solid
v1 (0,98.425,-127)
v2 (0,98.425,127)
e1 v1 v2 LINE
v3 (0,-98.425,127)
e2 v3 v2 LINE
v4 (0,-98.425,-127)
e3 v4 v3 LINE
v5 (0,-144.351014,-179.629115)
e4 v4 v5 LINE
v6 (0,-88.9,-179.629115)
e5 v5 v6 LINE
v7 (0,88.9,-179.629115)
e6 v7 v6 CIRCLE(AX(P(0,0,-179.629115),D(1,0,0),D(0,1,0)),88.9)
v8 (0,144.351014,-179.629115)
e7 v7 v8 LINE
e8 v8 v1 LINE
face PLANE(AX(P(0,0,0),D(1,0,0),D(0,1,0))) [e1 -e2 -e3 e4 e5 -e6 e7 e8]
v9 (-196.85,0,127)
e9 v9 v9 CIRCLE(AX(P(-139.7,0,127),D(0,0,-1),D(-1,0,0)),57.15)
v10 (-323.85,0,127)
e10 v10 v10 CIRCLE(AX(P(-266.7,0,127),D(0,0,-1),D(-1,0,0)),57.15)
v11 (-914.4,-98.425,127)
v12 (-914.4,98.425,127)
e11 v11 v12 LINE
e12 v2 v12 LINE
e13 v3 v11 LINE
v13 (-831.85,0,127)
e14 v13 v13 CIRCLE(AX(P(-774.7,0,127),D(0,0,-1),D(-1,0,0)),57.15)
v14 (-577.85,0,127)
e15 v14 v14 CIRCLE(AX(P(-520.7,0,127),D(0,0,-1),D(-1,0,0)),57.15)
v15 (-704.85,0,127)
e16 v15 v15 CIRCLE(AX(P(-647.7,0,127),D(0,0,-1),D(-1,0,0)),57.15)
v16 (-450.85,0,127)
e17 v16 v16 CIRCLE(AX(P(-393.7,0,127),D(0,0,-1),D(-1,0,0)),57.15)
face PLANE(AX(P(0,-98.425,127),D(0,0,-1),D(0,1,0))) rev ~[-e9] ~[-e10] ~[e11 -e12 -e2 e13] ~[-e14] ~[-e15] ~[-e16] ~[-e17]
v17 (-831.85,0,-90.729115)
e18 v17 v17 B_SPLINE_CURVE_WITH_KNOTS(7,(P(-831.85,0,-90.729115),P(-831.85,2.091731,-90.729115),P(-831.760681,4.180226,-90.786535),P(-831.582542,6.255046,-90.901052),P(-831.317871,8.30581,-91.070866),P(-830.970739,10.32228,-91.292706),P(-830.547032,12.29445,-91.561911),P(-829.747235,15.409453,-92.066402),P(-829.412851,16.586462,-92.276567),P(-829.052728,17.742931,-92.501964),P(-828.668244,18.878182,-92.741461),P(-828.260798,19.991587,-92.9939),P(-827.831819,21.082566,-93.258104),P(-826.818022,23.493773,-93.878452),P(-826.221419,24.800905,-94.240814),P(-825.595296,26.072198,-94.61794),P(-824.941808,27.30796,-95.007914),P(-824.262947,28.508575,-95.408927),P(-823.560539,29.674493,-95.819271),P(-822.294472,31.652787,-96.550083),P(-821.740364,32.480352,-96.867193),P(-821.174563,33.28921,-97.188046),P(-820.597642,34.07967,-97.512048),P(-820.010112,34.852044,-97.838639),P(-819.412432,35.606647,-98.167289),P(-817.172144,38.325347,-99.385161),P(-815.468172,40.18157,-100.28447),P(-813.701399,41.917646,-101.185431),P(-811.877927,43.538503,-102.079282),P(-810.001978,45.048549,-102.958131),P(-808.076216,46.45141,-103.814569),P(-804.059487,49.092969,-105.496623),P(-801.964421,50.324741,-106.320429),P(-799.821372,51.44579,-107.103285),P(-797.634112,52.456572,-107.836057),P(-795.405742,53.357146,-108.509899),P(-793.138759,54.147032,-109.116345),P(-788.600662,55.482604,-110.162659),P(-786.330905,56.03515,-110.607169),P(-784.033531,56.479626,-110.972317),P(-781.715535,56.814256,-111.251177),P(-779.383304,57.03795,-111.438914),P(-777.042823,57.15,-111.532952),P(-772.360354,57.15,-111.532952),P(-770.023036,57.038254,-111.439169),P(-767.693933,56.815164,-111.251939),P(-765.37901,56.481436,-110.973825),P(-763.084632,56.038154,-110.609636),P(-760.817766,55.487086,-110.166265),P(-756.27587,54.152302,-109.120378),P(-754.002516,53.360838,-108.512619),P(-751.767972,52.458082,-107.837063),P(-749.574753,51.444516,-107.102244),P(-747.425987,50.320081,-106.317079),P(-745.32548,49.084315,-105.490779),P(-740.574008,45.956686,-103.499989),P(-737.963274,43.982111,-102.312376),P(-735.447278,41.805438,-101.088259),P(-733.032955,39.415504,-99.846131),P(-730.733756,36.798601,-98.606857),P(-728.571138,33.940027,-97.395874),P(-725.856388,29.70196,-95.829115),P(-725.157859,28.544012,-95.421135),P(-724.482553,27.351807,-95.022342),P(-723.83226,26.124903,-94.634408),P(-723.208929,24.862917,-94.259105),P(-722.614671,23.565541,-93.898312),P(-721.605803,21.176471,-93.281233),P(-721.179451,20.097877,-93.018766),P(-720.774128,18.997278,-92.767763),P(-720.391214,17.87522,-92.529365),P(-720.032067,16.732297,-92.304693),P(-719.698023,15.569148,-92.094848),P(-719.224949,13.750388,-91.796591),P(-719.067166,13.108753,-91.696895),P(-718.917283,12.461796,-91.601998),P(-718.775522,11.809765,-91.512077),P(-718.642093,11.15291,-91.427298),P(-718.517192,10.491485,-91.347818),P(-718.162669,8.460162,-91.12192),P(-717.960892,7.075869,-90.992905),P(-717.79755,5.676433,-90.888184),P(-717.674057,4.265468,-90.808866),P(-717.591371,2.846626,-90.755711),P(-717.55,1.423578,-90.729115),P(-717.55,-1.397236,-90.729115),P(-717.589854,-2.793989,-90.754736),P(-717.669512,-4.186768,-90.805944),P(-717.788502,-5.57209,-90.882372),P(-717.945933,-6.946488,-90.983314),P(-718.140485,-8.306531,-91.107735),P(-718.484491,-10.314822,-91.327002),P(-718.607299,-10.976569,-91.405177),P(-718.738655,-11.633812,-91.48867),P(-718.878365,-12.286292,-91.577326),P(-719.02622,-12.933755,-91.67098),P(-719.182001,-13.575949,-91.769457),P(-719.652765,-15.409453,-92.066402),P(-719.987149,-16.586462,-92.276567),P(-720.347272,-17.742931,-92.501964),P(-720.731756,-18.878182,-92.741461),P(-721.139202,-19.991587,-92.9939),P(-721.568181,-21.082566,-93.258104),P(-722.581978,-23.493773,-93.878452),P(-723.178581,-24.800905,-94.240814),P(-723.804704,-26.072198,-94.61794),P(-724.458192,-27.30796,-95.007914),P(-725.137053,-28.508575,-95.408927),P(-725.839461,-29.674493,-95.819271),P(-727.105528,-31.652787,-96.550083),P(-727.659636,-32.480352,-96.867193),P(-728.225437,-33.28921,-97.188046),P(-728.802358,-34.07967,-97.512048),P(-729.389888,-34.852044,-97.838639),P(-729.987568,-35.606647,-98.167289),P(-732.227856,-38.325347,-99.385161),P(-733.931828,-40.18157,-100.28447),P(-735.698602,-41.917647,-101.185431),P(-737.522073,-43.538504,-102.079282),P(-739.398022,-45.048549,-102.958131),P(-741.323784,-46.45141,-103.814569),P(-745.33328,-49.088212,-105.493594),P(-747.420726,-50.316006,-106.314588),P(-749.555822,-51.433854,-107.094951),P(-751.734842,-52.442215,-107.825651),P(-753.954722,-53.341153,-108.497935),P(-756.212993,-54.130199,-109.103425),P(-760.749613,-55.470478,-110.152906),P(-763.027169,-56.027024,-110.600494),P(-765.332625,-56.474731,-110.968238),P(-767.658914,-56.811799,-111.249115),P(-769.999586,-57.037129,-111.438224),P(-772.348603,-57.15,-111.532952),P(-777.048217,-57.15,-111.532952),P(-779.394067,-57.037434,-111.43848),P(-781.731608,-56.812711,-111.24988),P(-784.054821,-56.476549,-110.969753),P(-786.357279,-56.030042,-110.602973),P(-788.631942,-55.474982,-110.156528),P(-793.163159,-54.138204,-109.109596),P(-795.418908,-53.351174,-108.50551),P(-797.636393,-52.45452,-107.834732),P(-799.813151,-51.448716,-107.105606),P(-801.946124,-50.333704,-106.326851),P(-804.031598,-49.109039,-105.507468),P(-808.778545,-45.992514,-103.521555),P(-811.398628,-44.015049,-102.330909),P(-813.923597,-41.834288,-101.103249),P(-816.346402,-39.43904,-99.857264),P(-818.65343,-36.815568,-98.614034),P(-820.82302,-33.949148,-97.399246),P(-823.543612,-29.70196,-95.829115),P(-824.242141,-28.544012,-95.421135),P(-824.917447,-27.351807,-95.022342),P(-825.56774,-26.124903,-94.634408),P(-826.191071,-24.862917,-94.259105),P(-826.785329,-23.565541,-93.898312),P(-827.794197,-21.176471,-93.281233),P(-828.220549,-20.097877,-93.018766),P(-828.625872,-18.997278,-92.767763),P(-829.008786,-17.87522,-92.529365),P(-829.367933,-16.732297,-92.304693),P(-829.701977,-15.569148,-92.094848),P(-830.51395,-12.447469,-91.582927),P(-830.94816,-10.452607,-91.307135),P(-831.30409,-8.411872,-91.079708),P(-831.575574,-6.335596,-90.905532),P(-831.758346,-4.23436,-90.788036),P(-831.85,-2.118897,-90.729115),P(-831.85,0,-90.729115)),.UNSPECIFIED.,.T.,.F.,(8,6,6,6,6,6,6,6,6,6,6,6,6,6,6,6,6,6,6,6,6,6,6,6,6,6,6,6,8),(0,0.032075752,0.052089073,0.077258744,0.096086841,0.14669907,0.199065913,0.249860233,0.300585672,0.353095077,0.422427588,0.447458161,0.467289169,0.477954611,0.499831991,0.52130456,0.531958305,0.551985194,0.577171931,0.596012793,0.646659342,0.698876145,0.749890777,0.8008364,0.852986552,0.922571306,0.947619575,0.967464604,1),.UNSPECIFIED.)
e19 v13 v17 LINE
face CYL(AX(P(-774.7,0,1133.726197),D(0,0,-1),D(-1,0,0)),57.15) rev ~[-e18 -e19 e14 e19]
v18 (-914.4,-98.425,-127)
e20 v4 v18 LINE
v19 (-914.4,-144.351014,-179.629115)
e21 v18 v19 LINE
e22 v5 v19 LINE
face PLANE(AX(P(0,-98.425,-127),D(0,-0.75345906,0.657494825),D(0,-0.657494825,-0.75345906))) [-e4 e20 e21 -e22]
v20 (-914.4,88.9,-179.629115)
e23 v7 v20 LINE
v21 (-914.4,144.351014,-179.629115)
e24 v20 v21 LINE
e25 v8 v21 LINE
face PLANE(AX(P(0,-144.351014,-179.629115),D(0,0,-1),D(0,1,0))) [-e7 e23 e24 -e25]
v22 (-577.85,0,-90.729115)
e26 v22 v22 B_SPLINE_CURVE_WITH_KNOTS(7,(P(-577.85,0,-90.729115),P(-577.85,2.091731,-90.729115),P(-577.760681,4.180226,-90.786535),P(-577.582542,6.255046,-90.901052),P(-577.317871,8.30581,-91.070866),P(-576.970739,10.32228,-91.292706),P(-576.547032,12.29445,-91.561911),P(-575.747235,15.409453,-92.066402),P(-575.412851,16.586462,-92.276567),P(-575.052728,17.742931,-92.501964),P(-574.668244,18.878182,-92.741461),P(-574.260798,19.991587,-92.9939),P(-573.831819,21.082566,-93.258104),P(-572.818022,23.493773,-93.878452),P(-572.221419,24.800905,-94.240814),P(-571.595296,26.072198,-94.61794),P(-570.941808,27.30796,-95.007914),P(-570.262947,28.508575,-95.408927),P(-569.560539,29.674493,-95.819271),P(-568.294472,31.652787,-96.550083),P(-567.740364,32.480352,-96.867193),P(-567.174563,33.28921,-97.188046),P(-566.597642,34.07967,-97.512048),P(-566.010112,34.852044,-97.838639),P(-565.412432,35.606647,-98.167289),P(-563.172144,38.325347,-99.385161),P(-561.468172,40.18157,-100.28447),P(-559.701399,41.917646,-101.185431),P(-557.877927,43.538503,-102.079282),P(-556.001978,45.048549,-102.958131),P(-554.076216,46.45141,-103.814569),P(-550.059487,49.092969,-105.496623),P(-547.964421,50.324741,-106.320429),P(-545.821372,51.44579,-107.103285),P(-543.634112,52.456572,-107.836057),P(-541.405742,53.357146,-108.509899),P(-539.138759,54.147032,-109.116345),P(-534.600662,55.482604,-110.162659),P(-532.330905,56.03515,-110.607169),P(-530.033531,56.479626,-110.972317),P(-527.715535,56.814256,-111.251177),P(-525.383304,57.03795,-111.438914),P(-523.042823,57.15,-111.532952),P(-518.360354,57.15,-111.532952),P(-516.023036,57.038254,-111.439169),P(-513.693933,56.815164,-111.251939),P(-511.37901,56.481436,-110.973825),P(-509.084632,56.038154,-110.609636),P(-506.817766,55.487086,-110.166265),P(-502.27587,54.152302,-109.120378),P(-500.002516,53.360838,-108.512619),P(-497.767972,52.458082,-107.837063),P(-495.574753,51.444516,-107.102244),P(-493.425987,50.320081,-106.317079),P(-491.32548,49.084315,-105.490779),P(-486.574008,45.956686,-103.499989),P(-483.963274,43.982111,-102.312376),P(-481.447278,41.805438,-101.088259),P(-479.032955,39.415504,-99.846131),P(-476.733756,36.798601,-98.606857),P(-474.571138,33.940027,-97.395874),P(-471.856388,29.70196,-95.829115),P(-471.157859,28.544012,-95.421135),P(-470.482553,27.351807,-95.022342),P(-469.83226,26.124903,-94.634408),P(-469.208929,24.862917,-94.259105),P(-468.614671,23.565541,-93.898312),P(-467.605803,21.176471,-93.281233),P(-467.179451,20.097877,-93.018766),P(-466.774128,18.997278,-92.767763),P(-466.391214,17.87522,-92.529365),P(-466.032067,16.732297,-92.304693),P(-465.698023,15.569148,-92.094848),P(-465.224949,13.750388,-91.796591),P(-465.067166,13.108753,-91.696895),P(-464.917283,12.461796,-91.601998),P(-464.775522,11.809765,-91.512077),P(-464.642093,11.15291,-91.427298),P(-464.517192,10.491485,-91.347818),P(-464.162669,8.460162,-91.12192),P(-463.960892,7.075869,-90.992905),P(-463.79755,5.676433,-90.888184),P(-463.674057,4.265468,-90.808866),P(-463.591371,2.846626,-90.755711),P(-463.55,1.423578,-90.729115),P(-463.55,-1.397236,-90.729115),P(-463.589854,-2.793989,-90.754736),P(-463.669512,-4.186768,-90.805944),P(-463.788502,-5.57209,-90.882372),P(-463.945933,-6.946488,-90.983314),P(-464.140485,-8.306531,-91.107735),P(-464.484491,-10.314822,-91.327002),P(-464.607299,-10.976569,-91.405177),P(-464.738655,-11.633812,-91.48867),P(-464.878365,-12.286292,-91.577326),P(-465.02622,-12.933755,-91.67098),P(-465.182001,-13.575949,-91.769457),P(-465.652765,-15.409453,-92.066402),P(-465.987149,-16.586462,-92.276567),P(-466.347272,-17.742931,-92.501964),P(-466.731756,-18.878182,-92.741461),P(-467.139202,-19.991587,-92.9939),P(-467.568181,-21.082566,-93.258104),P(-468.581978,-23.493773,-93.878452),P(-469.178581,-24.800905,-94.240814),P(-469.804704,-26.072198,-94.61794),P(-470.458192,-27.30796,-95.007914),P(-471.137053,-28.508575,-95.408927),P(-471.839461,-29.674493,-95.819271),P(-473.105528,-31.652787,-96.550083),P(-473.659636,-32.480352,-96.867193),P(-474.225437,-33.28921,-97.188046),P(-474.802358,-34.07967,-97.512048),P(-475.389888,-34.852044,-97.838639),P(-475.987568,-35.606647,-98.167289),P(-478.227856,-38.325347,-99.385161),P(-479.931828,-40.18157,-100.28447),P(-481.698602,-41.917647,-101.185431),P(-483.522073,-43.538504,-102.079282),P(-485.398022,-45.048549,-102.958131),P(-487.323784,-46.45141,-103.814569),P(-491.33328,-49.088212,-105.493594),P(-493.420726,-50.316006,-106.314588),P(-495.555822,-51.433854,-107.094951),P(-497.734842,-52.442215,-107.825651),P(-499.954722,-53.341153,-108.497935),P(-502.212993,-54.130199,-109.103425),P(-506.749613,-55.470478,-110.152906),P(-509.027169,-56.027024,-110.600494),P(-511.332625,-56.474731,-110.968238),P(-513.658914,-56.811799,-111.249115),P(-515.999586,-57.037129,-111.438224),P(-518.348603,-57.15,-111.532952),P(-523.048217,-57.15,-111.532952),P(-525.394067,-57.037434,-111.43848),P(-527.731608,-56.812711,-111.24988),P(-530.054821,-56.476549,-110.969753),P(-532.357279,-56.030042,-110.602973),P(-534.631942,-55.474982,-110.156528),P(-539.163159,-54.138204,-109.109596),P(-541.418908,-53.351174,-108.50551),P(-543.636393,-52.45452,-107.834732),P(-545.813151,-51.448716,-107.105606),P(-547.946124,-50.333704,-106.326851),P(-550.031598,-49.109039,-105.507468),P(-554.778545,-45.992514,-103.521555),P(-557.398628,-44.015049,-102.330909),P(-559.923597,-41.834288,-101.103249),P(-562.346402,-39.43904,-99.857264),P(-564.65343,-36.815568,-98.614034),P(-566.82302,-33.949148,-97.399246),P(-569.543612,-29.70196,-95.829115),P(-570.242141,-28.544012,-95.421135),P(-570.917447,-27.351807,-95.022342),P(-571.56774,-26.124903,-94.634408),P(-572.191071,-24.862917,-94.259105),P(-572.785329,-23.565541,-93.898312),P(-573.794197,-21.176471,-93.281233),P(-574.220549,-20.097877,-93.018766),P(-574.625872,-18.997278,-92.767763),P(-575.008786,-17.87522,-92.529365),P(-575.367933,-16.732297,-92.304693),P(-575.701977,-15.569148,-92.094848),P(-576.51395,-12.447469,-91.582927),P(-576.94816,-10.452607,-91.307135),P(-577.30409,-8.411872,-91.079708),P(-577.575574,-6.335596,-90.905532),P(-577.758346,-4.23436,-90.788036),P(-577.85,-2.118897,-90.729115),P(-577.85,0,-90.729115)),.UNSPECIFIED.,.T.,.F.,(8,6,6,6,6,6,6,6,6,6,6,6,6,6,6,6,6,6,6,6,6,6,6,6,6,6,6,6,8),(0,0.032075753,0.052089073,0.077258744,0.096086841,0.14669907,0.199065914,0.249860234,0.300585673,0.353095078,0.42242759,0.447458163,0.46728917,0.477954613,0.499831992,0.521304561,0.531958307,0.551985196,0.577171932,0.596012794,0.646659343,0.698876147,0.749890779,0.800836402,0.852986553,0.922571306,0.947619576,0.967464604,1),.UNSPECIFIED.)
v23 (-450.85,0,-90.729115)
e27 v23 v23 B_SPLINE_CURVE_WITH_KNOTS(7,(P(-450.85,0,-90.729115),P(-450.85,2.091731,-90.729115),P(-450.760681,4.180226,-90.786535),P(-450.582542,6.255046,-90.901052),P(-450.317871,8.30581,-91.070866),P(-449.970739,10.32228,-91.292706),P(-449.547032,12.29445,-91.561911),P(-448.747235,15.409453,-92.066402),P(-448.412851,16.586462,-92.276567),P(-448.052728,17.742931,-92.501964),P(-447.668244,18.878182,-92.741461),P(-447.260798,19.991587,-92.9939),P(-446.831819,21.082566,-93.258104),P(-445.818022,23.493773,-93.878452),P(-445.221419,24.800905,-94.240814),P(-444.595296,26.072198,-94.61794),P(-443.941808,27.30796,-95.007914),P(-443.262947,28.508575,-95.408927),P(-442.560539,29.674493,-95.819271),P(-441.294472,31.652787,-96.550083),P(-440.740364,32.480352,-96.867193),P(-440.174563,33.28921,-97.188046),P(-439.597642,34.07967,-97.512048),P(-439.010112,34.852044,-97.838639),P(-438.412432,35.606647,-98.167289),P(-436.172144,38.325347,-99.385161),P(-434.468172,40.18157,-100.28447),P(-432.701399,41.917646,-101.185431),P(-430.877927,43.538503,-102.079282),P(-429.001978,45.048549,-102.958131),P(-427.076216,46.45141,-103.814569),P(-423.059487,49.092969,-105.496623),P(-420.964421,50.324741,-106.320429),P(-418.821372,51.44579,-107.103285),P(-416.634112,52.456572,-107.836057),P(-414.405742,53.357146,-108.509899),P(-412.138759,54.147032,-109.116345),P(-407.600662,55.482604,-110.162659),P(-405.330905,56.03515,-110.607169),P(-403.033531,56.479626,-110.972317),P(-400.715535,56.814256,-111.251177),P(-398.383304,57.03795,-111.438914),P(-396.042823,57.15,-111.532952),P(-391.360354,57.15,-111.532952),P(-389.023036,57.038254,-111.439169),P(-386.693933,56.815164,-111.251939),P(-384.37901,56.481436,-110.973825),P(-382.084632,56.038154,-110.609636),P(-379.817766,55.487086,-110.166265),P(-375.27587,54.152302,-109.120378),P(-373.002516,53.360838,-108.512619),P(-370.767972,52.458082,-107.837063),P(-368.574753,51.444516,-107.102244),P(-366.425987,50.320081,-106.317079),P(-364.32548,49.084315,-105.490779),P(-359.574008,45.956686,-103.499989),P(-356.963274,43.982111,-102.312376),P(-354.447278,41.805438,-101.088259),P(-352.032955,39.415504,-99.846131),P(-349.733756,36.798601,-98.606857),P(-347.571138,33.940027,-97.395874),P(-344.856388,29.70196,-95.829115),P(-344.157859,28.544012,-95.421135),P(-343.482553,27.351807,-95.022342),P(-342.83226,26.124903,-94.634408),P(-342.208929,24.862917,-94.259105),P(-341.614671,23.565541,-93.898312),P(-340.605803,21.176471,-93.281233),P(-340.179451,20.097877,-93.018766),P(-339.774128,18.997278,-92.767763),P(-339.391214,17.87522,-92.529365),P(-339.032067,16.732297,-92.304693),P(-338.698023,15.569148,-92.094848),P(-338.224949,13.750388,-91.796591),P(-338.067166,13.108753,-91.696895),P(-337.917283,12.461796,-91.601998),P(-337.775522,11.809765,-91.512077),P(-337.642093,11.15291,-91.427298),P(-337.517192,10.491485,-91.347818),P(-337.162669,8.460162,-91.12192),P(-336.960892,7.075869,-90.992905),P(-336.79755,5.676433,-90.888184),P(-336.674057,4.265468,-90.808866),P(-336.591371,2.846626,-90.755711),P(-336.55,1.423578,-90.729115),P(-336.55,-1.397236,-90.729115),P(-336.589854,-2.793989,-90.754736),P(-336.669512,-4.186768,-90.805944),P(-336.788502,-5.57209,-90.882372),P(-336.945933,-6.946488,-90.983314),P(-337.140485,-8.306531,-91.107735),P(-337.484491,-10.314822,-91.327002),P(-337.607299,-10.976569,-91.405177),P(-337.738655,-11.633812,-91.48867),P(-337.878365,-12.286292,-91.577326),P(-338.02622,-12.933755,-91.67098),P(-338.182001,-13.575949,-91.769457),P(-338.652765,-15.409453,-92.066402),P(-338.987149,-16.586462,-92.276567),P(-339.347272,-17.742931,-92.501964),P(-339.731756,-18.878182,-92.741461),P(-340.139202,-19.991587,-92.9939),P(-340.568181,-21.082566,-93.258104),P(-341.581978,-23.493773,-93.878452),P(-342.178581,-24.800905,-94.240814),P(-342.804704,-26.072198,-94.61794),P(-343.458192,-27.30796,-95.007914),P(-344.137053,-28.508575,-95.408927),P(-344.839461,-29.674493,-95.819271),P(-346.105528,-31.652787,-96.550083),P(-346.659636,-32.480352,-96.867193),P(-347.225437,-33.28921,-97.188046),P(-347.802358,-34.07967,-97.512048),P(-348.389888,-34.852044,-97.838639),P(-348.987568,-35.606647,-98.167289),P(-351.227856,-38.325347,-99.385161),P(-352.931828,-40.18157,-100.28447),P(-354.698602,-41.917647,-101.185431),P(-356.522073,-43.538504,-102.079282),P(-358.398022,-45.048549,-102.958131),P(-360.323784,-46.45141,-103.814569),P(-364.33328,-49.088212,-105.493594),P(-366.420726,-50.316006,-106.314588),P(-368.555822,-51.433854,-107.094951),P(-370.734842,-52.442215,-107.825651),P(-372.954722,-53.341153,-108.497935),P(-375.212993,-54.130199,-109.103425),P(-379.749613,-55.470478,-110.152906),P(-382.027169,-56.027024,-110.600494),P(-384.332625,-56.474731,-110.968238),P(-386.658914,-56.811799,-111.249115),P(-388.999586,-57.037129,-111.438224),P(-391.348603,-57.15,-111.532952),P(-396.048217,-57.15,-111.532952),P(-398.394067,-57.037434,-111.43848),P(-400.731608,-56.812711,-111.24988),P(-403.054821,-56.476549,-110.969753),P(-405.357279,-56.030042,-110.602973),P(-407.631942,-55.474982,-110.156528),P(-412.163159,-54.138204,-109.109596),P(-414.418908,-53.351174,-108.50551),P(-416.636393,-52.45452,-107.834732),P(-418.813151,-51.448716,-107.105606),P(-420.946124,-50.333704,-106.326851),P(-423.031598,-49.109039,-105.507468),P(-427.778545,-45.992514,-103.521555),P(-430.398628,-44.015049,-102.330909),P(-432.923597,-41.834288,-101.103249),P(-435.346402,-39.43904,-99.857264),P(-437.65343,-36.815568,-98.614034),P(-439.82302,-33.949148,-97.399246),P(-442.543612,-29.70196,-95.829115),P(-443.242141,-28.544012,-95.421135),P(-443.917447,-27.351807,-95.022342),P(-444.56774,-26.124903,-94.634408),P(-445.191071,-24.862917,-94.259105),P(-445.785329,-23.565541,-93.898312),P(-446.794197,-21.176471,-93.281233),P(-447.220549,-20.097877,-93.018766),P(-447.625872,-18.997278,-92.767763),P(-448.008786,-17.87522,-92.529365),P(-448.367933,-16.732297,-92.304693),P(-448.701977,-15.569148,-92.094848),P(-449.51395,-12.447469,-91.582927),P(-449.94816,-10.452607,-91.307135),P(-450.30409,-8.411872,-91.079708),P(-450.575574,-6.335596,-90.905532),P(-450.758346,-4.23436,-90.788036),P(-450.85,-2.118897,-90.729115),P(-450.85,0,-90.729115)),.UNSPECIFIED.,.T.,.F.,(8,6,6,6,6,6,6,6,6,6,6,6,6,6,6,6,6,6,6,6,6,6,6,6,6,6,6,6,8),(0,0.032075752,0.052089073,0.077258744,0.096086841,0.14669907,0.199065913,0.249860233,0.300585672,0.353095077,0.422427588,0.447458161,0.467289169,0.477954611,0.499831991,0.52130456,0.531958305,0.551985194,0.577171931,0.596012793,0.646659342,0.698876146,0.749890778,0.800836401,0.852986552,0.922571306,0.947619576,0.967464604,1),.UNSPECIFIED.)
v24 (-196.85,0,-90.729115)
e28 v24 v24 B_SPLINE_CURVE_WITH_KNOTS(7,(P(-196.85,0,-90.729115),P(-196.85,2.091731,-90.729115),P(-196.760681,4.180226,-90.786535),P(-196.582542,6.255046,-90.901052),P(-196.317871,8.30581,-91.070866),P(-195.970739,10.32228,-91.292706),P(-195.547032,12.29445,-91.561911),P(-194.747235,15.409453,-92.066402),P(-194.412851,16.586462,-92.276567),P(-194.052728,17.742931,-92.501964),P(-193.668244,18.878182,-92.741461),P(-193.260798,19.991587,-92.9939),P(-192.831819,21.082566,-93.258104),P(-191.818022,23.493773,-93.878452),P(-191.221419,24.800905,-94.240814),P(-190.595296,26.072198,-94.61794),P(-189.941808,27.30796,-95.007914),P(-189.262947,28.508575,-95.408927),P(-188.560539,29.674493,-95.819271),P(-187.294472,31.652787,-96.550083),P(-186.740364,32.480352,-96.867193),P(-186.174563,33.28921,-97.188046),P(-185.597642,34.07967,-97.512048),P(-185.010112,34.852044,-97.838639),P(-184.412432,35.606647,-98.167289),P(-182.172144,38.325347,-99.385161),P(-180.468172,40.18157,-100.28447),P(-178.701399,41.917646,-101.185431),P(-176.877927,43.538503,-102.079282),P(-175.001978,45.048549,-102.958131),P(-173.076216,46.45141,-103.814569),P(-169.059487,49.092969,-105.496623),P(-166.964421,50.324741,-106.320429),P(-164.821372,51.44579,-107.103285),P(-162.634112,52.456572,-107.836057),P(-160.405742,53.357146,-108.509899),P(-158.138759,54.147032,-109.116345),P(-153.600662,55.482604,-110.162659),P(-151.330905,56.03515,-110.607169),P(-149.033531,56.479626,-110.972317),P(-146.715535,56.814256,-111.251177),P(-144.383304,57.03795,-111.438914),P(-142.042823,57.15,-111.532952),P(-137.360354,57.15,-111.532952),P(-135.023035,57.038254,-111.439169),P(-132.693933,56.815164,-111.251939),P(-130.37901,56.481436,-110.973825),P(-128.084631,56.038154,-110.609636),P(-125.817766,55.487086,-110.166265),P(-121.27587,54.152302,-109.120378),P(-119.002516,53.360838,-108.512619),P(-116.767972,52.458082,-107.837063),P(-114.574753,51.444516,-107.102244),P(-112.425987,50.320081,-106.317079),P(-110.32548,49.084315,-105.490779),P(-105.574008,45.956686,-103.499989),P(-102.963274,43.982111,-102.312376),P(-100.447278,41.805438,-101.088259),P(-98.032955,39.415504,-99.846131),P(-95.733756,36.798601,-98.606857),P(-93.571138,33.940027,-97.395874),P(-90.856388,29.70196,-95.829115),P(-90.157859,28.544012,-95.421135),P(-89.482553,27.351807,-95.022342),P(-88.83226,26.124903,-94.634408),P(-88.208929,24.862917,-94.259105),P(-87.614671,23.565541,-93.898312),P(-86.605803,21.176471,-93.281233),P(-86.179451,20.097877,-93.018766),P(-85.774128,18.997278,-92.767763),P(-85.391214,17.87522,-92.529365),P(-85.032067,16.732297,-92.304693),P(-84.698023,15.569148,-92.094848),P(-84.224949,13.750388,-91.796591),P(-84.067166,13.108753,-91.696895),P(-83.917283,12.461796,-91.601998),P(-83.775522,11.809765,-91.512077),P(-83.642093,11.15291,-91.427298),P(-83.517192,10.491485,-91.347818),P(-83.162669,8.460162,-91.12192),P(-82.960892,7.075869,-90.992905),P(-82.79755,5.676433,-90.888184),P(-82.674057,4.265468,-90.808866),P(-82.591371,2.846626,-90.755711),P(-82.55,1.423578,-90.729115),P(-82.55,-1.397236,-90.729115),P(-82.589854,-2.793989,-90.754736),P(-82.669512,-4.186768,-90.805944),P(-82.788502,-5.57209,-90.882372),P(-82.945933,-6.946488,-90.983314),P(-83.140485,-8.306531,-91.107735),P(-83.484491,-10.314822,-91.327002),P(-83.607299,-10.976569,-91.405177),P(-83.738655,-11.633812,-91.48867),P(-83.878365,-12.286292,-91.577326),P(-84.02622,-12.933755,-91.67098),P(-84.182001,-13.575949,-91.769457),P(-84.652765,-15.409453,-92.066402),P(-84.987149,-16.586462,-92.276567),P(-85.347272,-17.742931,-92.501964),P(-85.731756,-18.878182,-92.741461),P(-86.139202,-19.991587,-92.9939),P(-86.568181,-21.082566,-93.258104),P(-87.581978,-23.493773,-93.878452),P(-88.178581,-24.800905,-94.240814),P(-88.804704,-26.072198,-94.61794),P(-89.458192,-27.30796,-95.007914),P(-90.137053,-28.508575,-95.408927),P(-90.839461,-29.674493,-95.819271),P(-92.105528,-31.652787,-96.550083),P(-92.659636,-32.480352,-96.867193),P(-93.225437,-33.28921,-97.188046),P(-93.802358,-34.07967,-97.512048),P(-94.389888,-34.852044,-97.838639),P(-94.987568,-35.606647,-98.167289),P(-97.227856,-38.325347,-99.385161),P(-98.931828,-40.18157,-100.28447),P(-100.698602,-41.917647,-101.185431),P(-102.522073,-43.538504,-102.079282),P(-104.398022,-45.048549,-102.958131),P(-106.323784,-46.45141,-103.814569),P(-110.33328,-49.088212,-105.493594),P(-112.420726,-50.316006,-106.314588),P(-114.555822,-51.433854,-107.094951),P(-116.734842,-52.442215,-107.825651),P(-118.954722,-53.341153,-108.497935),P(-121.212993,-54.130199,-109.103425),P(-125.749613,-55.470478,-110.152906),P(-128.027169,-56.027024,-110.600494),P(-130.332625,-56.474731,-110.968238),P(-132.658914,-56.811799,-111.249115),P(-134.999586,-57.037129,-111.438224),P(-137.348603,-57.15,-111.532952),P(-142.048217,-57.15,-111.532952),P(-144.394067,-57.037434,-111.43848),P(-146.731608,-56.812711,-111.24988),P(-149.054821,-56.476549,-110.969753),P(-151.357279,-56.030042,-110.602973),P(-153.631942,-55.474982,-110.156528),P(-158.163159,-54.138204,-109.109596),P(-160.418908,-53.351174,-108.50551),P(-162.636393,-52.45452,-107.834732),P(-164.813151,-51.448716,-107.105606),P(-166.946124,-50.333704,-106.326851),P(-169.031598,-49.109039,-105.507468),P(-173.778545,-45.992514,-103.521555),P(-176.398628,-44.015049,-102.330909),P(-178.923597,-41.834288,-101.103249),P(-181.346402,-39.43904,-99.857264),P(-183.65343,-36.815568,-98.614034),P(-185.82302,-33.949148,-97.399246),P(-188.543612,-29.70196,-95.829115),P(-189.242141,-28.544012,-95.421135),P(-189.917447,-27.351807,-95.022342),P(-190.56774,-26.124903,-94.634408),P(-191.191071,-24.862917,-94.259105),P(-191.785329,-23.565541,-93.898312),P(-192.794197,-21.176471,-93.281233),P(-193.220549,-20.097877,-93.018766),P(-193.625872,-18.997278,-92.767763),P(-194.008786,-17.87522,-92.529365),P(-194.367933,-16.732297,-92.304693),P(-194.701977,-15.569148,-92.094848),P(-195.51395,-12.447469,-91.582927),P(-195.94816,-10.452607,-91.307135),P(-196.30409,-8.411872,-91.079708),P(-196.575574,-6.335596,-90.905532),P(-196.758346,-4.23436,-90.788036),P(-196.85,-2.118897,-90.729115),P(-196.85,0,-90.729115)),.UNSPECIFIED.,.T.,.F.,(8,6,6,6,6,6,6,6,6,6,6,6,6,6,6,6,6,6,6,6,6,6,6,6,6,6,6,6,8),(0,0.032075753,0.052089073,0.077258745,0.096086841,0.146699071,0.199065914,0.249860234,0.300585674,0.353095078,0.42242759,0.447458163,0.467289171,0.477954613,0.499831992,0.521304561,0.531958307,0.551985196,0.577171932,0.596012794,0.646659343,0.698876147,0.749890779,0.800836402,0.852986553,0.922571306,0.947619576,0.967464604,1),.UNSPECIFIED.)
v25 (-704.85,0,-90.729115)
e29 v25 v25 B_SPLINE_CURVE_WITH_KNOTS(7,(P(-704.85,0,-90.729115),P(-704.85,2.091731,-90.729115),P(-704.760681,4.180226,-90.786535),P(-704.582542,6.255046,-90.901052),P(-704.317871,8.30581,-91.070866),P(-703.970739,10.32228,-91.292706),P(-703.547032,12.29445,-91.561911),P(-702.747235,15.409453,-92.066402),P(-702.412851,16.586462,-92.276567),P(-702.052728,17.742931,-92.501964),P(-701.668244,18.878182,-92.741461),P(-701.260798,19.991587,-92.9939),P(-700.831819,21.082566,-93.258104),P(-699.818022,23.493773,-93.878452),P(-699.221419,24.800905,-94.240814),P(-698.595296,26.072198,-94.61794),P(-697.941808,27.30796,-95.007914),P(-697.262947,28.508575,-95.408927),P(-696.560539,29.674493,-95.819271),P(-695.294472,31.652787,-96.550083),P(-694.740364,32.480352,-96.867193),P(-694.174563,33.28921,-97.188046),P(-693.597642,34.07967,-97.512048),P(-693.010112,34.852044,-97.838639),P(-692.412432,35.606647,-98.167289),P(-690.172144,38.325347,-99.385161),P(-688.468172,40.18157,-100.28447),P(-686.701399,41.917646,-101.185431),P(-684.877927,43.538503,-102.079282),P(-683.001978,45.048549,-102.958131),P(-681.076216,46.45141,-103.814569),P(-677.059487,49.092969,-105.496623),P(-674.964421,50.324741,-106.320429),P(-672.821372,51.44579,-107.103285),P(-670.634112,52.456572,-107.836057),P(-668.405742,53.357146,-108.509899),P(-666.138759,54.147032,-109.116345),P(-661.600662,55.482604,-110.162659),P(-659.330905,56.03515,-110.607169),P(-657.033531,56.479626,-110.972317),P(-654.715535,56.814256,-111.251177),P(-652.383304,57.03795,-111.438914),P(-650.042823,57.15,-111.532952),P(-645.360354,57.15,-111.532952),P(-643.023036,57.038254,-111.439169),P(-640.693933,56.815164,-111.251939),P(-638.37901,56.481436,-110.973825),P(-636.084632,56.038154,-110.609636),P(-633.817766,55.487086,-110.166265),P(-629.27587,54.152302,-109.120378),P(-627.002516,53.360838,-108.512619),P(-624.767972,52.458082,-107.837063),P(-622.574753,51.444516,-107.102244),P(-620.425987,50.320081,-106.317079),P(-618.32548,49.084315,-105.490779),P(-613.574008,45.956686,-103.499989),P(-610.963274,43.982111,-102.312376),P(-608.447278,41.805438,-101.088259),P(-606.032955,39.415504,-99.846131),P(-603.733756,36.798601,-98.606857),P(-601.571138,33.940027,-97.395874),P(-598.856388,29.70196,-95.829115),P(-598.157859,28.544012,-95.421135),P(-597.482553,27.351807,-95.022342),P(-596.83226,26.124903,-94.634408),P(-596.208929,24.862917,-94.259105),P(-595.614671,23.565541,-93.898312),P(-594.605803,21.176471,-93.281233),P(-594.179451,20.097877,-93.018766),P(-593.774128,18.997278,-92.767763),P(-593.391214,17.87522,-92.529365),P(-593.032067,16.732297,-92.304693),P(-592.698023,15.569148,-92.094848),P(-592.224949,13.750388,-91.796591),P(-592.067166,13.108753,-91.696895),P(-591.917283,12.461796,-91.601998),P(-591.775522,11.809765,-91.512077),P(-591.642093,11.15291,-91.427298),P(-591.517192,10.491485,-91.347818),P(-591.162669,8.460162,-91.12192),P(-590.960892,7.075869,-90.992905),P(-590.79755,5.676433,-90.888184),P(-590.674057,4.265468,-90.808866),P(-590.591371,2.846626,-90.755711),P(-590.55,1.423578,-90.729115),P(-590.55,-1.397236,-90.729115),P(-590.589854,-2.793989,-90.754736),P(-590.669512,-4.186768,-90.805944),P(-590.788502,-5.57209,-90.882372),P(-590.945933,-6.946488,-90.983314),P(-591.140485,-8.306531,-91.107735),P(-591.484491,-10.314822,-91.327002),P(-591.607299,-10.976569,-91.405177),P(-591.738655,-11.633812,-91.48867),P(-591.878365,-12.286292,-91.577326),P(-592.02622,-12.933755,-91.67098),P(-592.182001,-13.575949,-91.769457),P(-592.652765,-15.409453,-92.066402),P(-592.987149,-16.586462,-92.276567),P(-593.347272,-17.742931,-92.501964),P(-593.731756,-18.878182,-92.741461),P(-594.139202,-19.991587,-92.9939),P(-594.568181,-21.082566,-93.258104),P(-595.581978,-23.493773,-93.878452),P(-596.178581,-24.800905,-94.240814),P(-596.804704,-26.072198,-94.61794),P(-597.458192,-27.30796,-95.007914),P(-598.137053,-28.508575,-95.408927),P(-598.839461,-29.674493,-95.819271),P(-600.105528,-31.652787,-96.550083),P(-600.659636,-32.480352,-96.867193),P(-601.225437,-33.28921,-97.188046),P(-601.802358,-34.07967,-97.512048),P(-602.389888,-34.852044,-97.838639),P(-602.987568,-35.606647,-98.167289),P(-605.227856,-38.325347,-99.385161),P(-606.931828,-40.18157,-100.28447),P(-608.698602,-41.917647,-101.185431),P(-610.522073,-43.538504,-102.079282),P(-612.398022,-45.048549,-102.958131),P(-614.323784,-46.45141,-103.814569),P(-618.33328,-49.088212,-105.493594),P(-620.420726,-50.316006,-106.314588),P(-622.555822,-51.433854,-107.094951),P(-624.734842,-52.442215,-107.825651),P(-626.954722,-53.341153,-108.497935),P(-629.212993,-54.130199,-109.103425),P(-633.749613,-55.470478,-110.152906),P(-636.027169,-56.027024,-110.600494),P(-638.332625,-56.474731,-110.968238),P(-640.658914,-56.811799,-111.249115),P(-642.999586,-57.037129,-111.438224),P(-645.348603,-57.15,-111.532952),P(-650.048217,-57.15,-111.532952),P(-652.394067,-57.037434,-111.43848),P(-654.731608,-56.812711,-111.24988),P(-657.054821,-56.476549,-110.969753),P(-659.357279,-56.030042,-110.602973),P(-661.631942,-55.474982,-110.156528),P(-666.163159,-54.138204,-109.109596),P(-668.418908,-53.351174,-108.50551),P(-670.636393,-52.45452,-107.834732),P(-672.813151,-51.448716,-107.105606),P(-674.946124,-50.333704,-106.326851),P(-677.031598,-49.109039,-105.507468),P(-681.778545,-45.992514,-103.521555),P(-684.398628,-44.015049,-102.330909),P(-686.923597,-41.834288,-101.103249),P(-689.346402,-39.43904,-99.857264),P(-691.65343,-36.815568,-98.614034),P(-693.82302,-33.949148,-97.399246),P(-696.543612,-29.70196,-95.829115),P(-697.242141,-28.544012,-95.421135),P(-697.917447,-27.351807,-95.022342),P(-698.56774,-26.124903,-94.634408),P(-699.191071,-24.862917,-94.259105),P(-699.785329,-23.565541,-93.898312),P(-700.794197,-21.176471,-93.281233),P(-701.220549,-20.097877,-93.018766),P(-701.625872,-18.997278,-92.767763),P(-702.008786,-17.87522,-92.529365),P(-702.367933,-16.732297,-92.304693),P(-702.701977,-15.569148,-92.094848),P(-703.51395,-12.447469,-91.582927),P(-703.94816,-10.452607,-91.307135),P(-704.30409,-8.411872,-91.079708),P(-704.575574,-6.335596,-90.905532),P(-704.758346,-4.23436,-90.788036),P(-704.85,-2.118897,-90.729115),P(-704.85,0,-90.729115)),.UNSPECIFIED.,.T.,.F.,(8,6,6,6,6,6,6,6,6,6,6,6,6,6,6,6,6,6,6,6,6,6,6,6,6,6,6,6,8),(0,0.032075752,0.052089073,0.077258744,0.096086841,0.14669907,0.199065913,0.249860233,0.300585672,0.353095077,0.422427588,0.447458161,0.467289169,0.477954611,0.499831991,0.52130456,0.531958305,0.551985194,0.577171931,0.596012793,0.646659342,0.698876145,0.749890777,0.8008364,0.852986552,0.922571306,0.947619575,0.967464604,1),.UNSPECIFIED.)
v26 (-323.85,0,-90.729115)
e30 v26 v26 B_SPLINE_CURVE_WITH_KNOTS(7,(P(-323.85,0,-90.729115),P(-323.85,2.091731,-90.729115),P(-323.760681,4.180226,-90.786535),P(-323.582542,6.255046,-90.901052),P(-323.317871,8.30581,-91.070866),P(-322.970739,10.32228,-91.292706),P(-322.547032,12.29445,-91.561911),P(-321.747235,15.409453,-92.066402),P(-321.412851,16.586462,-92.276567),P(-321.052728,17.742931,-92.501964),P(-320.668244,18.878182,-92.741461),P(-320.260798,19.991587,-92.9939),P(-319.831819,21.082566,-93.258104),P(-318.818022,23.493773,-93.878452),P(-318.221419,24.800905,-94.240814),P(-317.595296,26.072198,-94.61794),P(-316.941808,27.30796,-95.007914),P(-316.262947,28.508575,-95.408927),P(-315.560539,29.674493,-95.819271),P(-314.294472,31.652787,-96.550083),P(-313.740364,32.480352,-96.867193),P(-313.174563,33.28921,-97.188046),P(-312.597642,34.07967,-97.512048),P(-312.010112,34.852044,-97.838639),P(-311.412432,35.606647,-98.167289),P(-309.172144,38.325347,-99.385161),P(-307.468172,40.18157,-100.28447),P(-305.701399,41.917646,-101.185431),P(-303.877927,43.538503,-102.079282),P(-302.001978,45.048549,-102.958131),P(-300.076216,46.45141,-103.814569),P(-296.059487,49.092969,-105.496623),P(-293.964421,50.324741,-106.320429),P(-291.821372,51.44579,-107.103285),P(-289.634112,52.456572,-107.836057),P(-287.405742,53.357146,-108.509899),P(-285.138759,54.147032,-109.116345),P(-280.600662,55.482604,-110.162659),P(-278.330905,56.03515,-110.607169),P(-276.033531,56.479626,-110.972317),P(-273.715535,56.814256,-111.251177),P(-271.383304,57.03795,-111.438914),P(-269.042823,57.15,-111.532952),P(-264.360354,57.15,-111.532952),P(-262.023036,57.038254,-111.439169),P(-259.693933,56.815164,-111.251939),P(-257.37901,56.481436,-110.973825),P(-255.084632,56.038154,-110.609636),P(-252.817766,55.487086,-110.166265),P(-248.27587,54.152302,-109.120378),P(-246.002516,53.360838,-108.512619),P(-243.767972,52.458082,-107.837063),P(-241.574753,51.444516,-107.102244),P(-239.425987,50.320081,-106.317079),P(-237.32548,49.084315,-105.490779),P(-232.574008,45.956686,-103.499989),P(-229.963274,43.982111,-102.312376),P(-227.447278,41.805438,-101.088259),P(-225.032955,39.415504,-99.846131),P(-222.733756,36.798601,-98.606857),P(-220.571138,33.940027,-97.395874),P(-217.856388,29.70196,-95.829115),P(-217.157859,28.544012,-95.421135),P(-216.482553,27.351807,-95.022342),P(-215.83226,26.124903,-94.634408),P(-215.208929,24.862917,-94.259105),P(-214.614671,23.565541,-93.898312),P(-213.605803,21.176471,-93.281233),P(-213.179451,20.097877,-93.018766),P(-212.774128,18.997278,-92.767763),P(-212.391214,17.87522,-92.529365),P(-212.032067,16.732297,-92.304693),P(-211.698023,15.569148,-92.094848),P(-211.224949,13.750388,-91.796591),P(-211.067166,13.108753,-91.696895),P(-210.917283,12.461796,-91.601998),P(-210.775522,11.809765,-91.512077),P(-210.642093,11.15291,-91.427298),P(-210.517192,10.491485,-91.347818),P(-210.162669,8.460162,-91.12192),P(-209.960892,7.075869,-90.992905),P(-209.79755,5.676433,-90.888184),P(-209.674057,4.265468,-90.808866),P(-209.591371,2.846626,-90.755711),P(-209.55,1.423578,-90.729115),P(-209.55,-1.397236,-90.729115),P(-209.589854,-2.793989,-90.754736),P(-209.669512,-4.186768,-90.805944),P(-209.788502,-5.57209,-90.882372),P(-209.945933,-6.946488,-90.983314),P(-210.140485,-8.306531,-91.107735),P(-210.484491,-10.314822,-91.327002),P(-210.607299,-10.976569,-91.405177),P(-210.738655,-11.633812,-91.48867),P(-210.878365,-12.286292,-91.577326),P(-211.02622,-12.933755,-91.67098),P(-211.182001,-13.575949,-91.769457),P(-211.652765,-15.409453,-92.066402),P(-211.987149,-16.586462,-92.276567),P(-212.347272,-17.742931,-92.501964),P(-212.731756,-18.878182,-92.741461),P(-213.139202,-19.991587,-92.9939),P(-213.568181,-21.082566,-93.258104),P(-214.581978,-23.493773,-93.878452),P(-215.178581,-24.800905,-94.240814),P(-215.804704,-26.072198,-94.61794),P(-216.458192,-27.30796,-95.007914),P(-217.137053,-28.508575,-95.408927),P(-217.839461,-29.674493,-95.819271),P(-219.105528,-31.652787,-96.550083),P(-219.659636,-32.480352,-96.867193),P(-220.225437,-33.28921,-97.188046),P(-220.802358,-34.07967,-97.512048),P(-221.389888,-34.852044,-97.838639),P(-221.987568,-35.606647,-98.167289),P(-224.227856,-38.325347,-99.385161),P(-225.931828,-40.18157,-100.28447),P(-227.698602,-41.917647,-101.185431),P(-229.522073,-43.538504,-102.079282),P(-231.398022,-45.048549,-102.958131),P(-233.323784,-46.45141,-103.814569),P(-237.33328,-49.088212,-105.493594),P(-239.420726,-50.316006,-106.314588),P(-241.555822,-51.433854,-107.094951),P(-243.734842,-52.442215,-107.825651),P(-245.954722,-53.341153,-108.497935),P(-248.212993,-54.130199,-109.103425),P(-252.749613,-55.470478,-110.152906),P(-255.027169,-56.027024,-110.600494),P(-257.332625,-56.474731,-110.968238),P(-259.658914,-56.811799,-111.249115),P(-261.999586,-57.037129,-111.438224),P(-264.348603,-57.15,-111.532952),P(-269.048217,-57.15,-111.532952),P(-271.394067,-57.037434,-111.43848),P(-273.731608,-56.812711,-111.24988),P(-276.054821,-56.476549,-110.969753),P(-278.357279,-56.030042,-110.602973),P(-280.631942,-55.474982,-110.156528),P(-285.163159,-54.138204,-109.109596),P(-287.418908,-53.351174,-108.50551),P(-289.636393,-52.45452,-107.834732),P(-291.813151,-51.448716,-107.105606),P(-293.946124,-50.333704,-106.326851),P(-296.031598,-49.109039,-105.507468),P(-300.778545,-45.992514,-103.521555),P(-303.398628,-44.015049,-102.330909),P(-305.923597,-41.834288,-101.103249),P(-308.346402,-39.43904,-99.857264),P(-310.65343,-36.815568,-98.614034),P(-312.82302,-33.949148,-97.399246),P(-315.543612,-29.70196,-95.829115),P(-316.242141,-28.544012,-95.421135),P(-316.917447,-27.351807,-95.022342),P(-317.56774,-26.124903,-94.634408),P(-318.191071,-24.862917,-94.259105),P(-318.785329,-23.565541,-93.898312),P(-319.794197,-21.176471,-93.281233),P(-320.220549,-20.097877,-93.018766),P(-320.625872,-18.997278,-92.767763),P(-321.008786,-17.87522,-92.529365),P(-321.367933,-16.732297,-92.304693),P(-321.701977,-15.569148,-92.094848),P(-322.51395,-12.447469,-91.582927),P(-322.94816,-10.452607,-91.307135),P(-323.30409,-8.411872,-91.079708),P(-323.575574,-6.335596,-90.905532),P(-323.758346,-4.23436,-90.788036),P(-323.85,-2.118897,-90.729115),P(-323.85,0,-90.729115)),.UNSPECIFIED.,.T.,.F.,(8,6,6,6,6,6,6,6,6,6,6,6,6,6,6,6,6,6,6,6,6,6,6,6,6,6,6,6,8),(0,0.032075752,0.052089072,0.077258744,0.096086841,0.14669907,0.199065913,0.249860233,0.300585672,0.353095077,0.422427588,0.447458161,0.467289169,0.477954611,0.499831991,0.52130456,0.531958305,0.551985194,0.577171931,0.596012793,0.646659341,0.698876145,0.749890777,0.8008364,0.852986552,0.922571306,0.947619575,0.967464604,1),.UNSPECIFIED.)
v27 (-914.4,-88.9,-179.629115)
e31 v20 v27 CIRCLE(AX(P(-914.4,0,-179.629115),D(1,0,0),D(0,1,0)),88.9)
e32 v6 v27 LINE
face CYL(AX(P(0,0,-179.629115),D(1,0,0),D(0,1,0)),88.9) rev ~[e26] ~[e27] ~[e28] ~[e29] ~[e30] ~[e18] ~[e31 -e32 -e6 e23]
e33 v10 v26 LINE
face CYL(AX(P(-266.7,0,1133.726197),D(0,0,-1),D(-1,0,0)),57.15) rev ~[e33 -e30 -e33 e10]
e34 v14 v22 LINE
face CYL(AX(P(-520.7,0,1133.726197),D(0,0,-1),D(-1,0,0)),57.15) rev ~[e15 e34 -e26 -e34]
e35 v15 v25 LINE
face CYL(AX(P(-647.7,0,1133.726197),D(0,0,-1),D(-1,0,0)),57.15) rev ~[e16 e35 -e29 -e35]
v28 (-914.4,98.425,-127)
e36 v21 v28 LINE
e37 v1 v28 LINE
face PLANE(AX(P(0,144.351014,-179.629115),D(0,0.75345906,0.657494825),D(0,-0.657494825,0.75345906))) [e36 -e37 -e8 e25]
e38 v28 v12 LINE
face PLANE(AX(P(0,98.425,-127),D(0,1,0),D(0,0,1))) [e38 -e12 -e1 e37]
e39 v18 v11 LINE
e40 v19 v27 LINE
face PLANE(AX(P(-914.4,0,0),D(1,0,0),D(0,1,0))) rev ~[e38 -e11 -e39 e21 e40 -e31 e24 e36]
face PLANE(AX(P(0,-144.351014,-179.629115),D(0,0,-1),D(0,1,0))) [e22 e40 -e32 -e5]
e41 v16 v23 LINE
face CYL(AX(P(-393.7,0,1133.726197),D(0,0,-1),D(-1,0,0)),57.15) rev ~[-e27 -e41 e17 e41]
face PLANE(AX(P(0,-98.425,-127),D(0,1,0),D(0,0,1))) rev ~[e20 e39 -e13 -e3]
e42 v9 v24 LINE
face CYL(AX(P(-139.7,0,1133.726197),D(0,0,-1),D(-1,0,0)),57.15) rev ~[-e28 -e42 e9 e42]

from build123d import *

# Parameters (mm, degrees)
F0_W     = 196.85
F0_H     = 254
F1_DEPTH = 914.4
F3_D     = 114.3
F5_DEPTH = 914.4


with BuildPart() as f1:
    # F0 (on Right) → F1 (new body)
    with BuildSketch(Plane.YZ):
        Rectangle(F0_W, F0_H)
        Polygon((144.3510135603, -179.6291153114), (98.425, -127), (-98.425, -127), (-144.3510135603, -179.6291153114), align=None)
    extrude(amount=-F1_DEPTH)

    # F3 (through all)
    with Locations(Plane.XY.offset(127)):
        with Locations((-774.7, 0), (-647.7, 0), (-520.7, 0), (-393.7, 0), (-266.7, 0), (-139.7, 0)):
            Hole(F3_D / 2)

    # F4 (on face) → F5 (cut)
    with BuildSketch(Plane.YZ):
        with BuildLine():
            Line((-88.9, -179.6291153114), (88.9, -179.6291153114))
            ThreePointArc((88.9, -179.6291153114), (0, -90.7291153114), (-88.9, -179.6291153114))
        make_face()
    extrude(amount=-F5_DEPTH, mode=Mode.SUBTRACT)


solid = f1.part
